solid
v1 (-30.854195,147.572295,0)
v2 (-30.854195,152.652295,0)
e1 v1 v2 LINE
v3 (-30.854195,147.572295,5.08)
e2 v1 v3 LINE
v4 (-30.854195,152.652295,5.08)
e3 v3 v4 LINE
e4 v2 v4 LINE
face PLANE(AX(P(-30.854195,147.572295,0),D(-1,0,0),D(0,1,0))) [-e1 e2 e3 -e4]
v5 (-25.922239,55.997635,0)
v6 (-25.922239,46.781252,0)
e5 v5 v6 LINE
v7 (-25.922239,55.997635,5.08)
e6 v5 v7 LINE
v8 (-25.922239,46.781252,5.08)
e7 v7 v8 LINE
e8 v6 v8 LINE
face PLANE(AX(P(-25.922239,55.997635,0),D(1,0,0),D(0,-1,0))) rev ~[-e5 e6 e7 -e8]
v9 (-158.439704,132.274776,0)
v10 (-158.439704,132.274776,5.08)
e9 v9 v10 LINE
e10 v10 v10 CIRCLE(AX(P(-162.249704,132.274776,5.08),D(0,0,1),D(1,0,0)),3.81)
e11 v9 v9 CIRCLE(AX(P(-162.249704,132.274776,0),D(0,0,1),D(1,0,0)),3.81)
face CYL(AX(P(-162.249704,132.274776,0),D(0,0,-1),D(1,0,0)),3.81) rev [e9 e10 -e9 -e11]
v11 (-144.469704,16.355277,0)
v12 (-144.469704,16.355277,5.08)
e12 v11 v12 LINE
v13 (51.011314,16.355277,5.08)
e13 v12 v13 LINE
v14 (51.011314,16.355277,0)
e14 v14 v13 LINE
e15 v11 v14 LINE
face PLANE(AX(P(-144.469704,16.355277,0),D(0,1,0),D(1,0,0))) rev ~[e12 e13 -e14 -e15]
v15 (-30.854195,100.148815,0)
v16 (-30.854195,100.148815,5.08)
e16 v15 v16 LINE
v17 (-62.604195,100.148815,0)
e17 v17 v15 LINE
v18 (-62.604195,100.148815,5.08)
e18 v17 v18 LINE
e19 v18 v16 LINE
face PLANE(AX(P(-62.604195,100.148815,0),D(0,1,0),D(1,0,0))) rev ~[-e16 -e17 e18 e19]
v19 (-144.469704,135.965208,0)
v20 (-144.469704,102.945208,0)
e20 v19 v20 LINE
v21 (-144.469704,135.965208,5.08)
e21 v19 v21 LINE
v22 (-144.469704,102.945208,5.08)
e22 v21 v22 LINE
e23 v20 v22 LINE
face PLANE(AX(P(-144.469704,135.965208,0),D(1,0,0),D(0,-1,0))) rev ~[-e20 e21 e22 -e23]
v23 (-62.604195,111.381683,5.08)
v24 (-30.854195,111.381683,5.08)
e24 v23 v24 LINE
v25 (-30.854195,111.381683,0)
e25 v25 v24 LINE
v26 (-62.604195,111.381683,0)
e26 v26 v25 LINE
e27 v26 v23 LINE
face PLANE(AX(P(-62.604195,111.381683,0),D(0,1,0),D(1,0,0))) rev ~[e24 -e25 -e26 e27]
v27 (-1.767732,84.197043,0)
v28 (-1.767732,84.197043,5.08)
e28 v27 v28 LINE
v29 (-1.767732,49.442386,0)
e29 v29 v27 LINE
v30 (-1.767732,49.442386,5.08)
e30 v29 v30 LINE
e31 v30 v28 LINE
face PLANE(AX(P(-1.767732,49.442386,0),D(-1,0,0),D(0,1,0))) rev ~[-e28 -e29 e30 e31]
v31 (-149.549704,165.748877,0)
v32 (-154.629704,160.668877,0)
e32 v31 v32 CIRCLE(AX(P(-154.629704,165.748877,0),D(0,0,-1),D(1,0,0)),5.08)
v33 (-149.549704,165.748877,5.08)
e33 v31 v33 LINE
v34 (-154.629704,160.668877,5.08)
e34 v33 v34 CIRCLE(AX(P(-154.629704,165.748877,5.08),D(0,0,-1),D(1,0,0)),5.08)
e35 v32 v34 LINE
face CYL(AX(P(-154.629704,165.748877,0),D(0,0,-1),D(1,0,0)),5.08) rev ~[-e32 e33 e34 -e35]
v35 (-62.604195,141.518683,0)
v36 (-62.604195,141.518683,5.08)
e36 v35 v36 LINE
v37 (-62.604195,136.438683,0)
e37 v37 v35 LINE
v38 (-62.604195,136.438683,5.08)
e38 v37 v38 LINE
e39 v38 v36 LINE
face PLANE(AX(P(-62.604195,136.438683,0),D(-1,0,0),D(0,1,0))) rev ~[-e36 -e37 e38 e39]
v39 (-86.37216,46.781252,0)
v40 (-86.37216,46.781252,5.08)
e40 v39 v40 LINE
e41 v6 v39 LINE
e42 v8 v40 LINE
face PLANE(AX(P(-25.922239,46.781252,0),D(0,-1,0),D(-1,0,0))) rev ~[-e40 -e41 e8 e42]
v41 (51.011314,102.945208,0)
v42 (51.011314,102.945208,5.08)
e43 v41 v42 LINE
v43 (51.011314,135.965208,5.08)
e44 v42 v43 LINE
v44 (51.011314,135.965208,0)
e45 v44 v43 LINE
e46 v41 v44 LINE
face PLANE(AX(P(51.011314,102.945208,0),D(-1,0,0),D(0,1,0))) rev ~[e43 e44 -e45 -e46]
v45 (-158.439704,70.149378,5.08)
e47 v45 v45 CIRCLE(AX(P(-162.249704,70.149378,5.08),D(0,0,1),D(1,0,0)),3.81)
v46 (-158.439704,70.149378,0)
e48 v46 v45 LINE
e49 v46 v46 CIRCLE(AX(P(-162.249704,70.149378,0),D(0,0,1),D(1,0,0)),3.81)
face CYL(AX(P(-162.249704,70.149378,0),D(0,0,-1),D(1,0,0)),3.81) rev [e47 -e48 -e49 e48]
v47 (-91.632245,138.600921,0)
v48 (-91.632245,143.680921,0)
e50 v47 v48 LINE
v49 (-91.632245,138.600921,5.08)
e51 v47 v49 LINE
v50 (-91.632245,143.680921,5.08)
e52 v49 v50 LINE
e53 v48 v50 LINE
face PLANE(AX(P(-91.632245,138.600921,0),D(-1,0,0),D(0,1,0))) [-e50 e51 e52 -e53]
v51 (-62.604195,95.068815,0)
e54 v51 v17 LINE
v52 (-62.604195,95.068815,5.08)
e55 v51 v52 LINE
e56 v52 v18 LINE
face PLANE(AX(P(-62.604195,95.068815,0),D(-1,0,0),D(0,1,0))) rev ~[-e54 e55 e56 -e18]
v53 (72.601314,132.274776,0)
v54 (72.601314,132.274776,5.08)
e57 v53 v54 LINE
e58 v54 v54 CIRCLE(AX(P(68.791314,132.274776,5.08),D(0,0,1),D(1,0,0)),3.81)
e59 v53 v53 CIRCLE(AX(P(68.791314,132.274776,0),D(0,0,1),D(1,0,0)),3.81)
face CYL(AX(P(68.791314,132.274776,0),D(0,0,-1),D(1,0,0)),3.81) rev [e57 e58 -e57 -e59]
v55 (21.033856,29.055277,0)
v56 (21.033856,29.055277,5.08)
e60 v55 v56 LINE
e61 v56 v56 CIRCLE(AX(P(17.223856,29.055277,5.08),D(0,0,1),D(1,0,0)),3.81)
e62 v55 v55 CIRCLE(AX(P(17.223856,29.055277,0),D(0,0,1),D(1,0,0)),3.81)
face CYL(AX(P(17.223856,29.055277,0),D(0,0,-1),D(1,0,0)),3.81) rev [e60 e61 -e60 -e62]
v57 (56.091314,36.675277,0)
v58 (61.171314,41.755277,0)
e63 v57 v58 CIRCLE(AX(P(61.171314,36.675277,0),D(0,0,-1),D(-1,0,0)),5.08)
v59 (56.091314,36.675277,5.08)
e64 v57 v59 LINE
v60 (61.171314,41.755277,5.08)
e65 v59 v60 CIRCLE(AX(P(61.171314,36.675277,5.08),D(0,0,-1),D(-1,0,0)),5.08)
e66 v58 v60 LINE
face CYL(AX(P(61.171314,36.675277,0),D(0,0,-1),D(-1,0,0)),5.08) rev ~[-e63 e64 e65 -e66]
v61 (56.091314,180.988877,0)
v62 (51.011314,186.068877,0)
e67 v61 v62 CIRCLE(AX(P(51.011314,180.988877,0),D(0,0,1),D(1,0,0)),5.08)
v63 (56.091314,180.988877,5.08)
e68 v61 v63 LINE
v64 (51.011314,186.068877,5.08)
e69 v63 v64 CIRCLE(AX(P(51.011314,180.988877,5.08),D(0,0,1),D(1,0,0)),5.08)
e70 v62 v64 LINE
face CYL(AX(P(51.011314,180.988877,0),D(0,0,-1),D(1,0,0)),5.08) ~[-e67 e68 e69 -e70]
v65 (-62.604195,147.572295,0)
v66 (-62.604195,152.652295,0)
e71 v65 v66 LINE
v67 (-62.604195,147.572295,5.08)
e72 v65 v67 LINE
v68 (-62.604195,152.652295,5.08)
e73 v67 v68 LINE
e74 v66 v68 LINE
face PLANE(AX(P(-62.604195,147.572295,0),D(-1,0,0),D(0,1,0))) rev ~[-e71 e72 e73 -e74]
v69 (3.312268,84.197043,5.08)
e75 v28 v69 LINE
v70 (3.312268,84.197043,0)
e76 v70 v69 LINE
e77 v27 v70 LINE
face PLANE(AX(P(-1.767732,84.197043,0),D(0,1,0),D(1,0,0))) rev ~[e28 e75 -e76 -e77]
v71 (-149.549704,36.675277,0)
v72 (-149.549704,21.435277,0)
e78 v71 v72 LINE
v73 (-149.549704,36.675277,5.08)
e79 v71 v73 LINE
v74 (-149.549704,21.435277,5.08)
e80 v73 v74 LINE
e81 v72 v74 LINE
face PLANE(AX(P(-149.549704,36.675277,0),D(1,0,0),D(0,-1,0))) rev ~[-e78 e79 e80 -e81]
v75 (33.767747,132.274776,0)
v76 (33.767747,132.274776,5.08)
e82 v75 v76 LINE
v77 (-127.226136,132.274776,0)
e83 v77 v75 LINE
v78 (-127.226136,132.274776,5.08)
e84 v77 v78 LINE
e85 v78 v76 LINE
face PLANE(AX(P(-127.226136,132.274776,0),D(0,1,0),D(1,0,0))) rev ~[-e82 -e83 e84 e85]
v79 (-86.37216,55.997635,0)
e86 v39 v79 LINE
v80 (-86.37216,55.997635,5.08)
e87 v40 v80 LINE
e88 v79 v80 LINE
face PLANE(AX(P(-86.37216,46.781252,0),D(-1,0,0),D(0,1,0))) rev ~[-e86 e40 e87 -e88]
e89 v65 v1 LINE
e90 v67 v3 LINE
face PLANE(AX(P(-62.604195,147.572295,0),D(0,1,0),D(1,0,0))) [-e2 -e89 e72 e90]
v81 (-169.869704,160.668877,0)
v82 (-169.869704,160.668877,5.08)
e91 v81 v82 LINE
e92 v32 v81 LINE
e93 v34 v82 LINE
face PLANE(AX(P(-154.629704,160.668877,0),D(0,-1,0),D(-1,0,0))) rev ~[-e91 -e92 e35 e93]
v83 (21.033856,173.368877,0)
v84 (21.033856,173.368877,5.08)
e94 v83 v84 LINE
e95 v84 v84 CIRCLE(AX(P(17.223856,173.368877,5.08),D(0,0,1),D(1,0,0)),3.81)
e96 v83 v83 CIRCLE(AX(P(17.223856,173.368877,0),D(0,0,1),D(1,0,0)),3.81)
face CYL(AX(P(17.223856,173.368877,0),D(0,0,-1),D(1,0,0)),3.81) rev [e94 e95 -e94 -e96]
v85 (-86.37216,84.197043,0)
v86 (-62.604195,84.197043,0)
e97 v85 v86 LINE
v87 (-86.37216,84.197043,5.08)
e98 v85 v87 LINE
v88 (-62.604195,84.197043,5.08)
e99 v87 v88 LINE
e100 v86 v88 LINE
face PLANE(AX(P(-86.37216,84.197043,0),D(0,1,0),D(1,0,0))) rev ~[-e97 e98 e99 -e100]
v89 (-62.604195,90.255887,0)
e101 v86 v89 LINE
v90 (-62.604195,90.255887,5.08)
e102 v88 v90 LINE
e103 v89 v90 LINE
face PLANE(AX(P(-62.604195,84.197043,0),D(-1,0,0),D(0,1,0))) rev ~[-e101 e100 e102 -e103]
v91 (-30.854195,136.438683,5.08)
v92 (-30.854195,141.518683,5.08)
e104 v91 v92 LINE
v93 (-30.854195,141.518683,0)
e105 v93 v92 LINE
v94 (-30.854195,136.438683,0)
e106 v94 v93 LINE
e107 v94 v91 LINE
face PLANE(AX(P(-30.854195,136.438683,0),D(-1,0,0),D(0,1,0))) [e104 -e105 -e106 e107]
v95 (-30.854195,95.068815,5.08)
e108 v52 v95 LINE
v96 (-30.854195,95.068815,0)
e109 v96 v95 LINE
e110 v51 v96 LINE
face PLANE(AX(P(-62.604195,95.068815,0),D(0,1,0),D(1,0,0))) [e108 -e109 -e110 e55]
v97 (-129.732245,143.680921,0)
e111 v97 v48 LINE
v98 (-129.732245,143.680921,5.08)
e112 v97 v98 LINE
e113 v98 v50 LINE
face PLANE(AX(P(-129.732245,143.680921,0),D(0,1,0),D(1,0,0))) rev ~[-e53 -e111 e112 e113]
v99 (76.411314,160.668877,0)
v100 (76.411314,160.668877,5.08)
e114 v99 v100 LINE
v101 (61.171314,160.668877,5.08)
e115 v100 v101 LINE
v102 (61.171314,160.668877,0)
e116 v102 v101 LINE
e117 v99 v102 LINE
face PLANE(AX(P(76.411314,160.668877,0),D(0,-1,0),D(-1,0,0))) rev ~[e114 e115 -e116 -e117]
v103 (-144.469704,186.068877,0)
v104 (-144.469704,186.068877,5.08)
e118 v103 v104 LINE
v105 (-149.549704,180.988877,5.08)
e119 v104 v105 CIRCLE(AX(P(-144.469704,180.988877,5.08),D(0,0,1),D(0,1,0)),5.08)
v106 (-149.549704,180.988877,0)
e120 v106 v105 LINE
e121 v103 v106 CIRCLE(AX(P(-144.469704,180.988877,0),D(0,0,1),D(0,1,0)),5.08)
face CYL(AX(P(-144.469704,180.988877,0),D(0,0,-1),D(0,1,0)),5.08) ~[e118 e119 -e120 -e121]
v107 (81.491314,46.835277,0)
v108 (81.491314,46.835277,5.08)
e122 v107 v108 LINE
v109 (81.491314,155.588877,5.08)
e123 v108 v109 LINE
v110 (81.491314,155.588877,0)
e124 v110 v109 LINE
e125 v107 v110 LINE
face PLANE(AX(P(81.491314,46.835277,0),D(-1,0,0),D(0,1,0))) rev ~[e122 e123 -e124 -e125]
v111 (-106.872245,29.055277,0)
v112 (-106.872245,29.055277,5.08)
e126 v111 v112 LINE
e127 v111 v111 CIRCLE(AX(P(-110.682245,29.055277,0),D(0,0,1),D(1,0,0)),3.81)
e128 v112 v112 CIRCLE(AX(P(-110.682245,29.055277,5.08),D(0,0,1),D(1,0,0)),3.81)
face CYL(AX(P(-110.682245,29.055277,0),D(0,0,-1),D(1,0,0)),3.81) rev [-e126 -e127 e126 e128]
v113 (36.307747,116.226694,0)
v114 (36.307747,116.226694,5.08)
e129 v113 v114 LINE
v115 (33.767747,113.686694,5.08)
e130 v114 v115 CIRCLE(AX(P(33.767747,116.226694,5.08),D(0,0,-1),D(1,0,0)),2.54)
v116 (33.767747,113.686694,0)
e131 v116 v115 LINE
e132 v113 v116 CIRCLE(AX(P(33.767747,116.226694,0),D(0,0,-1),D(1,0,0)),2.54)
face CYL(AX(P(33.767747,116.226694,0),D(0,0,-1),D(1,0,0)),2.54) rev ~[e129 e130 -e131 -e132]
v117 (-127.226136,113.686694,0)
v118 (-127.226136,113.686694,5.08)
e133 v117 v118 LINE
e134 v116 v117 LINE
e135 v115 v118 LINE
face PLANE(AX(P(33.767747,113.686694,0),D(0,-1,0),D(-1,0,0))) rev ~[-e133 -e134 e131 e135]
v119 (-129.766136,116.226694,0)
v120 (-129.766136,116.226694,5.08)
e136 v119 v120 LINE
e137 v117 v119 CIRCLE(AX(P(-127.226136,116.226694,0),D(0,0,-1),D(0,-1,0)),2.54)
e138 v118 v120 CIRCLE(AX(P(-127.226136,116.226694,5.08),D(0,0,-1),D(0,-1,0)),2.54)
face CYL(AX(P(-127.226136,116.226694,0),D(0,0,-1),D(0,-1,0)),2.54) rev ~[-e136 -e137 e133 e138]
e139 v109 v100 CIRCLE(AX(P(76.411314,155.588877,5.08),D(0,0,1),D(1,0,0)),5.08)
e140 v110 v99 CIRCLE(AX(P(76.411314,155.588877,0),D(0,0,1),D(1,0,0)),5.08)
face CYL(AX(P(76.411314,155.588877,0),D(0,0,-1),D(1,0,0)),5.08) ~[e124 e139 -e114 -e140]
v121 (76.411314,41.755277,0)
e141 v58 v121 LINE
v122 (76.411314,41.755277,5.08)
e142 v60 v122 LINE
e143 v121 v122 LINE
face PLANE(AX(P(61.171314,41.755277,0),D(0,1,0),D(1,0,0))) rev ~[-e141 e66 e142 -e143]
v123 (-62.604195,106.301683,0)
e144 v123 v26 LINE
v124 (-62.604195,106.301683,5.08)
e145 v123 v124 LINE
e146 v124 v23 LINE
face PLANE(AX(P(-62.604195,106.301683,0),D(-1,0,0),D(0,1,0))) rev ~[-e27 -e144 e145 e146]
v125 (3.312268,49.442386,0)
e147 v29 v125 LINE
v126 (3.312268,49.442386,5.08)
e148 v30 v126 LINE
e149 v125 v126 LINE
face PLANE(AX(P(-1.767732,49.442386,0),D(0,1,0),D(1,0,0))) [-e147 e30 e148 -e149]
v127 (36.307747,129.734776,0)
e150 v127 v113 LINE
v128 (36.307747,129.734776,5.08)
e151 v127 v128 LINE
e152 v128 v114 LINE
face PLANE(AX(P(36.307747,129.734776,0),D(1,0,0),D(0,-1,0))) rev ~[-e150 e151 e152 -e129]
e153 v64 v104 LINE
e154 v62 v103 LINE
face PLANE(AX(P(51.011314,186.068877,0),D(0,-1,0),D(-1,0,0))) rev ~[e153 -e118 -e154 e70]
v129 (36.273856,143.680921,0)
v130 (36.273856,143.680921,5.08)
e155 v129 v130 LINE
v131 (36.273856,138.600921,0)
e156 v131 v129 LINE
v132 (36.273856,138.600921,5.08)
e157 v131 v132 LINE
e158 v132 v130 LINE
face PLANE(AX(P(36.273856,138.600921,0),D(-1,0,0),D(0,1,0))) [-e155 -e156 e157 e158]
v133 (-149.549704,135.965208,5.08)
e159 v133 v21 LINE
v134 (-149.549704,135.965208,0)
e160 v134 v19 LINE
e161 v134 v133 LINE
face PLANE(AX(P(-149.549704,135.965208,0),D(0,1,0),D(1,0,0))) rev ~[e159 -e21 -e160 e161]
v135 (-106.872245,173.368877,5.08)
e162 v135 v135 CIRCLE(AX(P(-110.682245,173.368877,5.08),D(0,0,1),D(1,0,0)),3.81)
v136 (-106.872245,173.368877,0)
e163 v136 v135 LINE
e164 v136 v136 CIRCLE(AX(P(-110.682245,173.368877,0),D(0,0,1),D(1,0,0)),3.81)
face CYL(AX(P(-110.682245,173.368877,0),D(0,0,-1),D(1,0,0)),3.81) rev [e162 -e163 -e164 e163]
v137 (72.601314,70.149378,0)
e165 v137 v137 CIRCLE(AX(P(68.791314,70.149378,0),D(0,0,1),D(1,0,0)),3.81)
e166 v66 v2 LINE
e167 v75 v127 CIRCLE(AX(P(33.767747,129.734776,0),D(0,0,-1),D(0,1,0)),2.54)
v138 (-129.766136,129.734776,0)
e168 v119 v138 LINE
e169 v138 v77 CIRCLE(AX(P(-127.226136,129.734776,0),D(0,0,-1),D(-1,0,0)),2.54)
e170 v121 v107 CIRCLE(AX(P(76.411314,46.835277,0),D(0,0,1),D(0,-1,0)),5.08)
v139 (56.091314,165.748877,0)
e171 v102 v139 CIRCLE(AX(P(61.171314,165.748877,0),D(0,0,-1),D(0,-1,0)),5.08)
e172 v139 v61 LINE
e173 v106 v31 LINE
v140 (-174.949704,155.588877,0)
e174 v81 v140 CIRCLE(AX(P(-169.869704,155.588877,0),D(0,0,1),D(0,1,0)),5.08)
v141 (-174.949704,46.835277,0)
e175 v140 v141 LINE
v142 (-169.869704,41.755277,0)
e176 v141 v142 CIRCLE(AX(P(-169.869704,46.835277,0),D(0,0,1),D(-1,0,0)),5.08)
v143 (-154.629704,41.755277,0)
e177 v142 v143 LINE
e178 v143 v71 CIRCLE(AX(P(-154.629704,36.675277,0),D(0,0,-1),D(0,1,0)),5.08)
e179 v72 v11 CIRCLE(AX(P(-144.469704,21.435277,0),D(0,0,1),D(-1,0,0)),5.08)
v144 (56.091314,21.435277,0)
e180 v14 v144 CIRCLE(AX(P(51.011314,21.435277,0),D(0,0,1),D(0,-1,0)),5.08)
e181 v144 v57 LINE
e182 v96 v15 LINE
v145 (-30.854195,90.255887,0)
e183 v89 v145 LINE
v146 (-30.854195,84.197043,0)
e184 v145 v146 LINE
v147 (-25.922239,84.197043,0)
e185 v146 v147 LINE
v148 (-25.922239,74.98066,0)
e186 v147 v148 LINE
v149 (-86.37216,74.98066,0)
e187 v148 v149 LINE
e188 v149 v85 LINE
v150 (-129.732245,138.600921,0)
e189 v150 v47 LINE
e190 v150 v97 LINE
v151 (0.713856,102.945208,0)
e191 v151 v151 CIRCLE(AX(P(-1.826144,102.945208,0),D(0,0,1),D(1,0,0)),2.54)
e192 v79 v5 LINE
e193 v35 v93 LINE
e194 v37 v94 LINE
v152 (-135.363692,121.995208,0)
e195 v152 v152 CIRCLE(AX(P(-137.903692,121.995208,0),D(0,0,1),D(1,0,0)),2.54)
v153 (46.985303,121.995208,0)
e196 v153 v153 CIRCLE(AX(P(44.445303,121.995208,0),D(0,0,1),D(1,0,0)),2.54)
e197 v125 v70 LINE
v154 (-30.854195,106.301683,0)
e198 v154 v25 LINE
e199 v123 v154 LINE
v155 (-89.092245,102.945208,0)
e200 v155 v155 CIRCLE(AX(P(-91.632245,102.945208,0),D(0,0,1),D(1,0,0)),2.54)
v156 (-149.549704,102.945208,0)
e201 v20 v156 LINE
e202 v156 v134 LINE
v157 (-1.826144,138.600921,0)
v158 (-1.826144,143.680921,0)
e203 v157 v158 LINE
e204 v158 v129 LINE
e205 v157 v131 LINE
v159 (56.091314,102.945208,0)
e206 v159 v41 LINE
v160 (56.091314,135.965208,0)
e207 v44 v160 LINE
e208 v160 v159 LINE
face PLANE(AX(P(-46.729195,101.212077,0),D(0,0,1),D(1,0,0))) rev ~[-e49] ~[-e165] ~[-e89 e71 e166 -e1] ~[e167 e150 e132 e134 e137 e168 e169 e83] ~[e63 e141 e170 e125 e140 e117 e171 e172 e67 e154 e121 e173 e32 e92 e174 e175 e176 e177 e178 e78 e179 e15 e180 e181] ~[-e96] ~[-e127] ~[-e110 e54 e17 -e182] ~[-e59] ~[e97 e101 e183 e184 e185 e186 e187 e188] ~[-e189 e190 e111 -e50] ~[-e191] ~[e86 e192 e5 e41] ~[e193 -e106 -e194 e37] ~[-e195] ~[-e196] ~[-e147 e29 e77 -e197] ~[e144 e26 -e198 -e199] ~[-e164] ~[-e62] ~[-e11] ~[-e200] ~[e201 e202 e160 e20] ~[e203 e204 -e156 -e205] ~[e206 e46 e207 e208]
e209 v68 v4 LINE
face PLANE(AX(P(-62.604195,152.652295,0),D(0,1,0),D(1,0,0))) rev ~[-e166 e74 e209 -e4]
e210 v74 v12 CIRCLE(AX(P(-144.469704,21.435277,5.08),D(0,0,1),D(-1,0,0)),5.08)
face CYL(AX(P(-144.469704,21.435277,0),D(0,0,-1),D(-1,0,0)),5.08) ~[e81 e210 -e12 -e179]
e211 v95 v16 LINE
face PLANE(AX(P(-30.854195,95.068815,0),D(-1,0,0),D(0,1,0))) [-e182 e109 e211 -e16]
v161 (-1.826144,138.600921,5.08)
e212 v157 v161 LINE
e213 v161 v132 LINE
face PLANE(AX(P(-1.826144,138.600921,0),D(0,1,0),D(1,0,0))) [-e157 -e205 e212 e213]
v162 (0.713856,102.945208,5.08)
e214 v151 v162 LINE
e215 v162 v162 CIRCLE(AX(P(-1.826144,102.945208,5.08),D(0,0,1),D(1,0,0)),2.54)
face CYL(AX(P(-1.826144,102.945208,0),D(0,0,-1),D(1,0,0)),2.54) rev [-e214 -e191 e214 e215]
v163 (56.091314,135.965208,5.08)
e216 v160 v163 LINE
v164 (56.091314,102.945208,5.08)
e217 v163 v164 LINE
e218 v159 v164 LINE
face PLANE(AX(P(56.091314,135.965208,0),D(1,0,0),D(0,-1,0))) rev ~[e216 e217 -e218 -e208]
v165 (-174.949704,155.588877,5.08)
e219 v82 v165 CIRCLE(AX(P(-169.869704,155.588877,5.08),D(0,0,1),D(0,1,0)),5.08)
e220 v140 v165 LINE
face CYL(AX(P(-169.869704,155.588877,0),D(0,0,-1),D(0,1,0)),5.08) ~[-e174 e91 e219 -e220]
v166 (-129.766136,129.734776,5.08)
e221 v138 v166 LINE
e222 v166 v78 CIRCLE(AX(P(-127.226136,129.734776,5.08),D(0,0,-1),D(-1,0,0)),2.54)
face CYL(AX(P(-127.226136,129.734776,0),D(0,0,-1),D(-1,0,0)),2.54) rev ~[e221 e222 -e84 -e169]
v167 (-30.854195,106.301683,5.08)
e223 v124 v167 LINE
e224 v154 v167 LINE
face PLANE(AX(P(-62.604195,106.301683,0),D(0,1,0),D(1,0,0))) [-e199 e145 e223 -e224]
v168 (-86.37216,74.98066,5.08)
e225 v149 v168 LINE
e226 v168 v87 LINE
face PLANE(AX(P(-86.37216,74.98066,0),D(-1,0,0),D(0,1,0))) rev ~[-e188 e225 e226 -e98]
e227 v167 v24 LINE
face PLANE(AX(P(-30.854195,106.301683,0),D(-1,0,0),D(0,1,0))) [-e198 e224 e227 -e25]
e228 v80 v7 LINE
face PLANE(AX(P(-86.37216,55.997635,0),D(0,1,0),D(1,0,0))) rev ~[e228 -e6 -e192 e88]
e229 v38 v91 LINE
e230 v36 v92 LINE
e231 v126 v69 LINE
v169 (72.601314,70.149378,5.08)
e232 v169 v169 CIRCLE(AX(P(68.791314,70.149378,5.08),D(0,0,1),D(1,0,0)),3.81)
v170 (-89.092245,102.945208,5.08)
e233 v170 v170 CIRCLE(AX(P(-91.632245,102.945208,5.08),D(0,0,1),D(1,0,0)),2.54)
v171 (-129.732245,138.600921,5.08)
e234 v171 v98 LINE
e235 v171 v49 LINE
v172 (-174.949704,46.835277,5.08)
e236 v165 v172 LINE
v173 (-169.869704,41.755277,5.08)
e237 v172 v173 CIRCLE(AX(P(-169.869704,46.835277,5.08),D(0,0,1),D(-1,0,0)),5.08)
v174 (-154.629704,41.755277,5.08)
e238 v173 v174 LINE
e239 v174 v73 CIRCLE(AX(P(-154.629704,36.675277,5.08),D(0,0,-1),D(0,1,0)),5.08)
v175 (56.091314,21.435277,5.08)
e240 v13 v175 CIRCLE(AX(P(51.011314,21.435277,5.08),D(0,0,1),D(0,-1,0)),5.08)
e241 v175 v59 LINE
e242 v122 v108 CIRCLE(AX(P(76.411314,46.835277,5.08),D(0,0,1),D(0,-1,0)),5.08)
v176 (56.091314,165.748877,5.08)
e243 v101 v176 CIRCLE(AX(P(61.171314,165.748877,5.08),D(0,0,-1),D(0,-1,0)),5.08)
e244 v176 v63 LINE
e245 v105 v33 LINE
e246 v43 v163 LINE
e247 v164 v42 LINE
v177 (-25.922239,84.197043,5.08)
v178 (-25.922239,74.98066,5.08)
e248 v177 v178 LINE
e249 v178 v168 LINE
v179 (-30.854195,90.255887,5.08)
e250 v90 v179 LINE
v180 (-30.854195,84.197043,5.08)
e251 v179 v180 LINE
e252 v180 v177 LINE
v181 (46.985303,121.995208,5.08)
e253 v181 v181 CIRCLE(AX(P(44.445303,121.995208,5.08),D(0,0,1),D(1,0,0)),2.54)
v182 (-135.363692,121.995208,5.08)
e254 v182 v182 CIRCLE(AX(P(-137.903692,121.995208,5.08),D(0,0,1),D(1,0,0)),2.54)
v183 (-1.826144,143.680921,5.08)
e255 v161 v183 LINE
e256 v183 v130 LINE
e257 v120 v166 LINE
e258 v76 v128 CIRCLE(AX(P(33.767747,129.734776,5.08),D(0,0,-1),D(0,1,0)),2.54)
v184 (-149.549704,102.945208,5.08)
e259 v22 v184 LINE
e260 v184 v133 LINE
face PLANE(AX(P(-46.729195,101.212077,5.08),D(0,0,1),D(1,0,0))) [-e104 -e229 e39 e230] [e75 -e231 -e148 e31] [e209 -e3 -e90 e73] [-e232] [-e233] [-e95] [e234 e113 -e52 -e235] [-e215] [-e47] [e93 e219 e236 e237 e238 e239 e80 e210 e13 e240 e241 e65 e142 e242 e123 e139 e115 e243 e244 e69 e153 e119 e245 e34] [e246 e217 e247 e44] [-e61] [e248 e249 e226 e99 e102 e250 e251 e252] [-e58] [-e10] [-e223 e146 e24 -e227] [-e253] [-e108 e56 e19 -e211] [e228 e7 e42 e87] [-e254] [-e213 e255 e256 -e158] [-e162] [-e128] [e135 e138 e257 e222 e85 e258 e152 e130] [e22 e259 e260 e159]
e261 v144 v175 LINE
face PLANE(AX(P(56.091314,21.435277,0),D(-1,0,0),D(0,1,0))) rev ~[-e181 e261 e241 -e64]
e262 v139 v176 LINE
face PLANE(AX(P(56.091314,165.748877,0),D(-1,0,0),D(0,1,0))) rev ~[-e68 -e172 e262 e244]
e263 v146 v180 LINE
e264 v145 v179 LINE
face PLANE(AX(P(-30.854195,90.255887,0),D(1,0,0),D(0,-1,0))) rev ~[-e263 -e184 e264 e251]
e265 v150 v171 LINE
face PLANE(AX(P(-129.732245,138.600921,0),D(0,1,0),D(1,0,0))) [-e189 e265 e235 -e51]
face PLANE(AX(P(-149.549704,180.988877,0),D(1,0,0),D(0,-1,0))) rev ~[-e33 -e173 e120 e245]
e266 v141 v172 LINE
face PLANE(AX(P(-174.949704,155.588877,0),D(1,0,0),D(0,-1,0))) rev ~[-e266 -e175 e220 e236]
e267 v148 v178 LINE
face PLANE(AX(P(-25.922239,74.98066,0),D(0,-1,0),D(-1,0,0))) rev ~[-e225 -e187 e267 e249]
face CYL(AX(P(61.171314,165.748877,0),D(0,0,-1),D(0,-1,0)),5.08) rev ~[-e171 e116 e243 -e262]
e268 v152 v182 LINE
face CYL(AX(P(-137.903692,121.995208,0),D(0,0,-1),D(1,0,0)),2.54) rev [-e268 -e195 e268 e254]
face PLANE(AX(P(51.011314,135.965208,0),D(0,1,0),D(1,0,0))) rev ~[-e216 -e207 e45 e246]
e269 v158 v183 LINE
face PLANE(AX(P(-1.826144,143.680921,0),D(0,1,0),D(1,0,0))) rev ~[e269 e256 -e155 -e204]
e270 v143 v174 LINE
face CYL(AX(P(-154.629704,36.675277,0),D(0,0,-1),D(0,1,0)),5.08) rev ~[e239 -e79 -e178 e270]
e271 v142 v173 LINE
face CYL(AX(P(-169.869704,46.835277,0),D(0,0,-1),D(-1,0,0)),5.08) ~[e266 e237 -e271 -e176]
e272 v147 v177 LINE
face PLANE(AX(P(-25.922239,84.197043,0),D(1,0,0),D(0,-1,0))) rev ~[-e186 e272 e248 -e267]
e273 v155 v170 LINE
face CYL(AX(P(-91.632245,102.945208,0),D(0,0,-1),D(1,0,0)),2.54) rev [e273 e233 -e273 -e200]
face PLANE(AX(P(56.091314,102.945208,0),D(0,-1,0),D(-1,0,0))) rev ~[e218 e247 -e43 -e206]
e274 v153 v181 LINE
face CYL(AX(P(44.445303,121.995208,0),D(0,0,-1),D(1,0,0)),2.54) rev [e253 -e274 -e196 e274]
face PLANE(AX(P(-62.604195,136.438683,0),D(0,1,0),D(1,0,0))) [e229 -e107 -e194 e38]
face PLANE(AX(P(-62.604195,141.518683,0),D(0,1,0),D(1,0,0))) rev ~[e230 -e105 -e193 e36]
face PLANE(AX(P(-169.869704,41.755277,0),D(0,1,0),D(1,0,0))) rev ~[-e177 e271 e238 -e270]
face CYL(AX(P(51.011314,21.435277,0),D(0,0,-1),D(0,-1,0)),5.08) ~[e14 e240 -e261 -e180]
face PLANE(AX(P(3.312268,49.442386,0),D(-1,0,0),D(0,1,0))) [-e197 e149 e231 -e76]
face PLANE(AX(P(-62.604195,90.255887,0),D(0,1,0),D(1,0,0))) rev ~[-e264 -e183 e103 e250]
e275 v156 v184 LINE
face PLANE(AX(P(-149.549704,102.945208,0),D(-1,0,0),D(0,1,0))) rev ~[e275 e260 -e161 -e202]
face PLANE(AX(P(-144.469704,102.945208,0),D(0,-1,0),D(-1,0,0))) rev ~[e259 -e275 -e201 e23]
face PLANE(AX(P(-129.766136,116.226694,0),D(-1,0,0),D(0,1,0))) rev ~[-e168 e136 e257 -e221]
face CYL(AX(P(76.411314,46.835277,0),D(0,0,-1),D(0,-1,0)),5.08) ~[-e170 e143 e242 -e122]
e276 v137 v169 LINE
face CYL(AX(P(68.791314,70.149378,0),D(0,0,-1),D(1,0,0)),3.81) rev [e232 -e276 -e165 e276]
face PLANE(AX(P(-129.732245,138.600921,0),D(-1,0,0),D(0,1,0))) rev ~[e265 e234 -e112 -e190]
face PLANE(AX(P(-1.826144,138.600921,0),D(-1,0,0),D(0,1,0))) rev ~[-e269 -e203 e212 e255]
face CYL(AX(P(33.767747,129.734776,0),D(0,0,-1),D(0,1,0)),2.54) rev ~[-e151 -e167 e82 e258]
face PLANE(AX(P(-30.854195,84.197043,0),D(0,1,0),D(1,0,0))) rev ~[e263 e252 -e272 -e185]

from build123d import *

# Parameters (mm, degrees)
SKETCH1_R           = 3.81
SKETCH1_W           = 5.08
SKETCH1_H           = 34.754656801
SKETCH1_W_2         = 31.75
SKETCH1_H_2         = 5.08
SKETCH1_R_2         = 2.54
SKETCH1_W_3         = 38.1
BOSS_EXTRUDE1_DEPTH = 5.08


with BuildPart() as part:
    # Sketch1 → Boss-Extrude1 (new body)
    with BuildSketch(Plane.XY):
        with BuildLine():
            ThreePointArc((51.011314264, 16.355277108), (54.603416713, 17.84317466), (56.091314264, 21.435277108))
            Line((56.091314264, 21.435277108), (56.091314264, 36.675277108))
            ThreePointArc((56.091314264, 36.675277108), (57.579211816, 40.267379557), (61.171314264, 41.755277108))
            Line((61.171314264, 41.755277108), (76.411314264, 41.755277108))
            ThreePointArc((76.411314264, 41.755277108), (80.003416713, 43.24317466), (81.491314264, 46.835277108))
            Line((81.491314264, 46.835277108), (81.491314264, 155.588877174))
            ThreePointArc((81.491314264, 155.588877174), (80.003416713, 159.180979622), (76.411314264, 160.668877174))
            Line((76.411314264, 160.668877174), (61.171314264, 160.668877174))
            ThreePointArc((61.171314264, 160.668877174), (57.579211816, 162.156774726), (56.091314264, 165.748877174))
            Line((56.091314264, 165.748877174), (56.091314264, 180.988877174))
            ThreePointArc((56.091314264, 180.988877174), (54.603416713, 184.580979622), (51.011314264, 186.068877174))
            Line((51.011314264, 186.068877174), (-144.469703574, 186.068877174))
            ThreePointArc((-144.469703574, 186.068877174), (-148.061806022, 184.580979622), (-149.549703574, 180.988877174))
            Line((-149.549703574, 180.988877174), (-149.549703574, 165.748877174))
            ThreePointArc((-149.549703574, 165.748877174), (-151.037601126, 162.156774726), (-154.629703574, 160.668877174))
            Line((-154.629703574, 160.668877174), (-169.869703574, 160.668877174))
            ThreePointArc((-169.869703574, 160.668877174), (-173.461806022, 159.180979622), (-174.949703574, 155.588877174))
            Line((-174.949703574, 155.588877174), (-174.949703574, 46.835277108))
            ThreePointArc((-174.949703574, 46.835277108), (-173.461806022, 43.24317466), (-169.869703574, 41.755277108))
            Line((-169.869703574, 41.755277108), (-154.629703574, 41.755277108))
            ThreePointArc((-154.629703574, 41.755277108), (-151.037601126, 40.267379557), (-149.549703574, 36.675277108))
            Line((-149.549703574, 36.675277108), (-149.549703574, 21.435277108))
            ThreePointArc((-149.549703574, 21.435277108), (-148.061806022, 17.84317466), (-144.469703574, 16.355277108))
            Line((-144.469703574, 16.355277108), (51.011314264, 16.355277108))
        make_face()
        with Locations((-110.682245407, 29.055277108)):
            Circle(SKETCH1_R, mode=Mode.SUBTRACT)
        Polygon((-25.922239135, 55.997635261), (-25.922239135, 49.700309173), (-25.922239135, 46.781251801), (-86.372159657, 46.781251801), (-86.372159657, 55.997635261), align=None, mode=Mode.SUBTRACT)
        with Locations((-162.249703574, 70.149378101)):
            Circle(SKETCH1_R, mode=Mode.SUBTRACT)
        Polygon((-25.922239135, 84.197043075), (-25.922239135, 77.899716987), (-25.922239135, 74.980659615), (-86.372159657, 74.980659615), (-86.372159657, 84.197043075), (-62.604194655, 84.197043075), (-62.604194655, 90.255887093), (-30.854194655, 90.255887093), (-30.854194655, 84.197043075), align=None, mode=Mode.SUBTRACT)
        with Locations((17.223856098, 29.055277108)):
            Circle(SKETCH1_R, mode=Mode.SUBTRACT)
        with Locations((0.772267685, 66.819714675)):
            Rectangle(SKETCH1_W, SKETCH1_H, mode=Mode.SUBTRACT)
        with Locations((-46.729194655, 97.608815198)):
            Rectangle(SKETCH1_W_2, SKETCH1_H_2, mode=Mode.SUBTRACT)
        with Locations((68.791314264, 70.149378101)):
            Circle(SKETCH1_R, mode=Mode.SUBTRACT)
        Polygon((-149.549703574, 135.965208253), (-144.469703574, 135.965208253), (-144.469703574, 127.195635913), (-144.469703574, 102.945208253), (-149.549703574, 102.945208253), align=None, mode=Mode.SUBTRACT)
        with Locations((-137.903692136, 121.995208253)):
            Circle(SKETCH1_R_2, mode=Mode.SUBTRACT)
        with Locations((-162.249703574, 132.274776181)):
            Circle(SKETCH1_R, mode=Mode.SUBTRACT)
        with Locations((-91.632245407, 102.945208253)):
            Circle(SKETCH1_R_2, mode=Mode.SUBTRACT)
        with Locations((-110.682245407, 141.140921067)):
            Rectangle(SKETCH1_W_3, SKETCH1_H_2, mode=Mode.SUBTRACT)
        with Locations((-110.682245407, 173.368877174)):
            Circle(SKETCH1_R, mode=Mode.SUBTRACT)
        with Locations((-46.729194655, 108.841683137)):
            Rectangle(SKETCH1_W_2, SKETCH1_H_2, mode=Mode.SUBTRACT)
        with Locations((-1.826143902, 102.945208253)):
            Circle(SKETCH1_R_2, mode=Mode.SUBTRACT)
        with BuildLine():
            ThreePointArc((33.767746549, 132.274776181), (35.563797773, 131.530827406), (36.307746549, 129.734776181))
            Line((36.307746549, 129.734776181), (36.307746549, 127.195635913))
            Line((36.307746549, 127.195635913), (36.307746549, 116.226694176))
            ThreePointArc((36.307746549, 116.226694176), (35.563797773, 114.430642952), (33.767746549, 113.686694176))
            Line((33.767746549, 113.686694176), (-127.226135859, 113.686694176))
            ThreePointArc((-127.226135859, 113.686694176), (-129.022187083, 114.430642952), (-129.766135859, 116.226694176))
            Line((-129.766135859, 116.226694176), (-129.766135859, 127.195635913))
            Line((-129.766135859, 127.195635913), (-129.766135859, 129.734776181))
            ThreePointArc((-129.766135859, 129.734776181), (-129.022187083, 131.530827406), (-127.226135859, 132.274776181))
            Line((-127.226135859, 132.274776181), (33.767746549, 132.274776181))
        make_face(mode=Mode.SUBTRACT)
        with Locations((-46.729194655, 138.978682913)):
            Rectangle(SKETCH1_W_2, SKETCH1_H_2, mode=Mode.SUBTRACT)
        with Locations((17.223856098, 141.140921067)):
            Rectangle(SKETCH1_W_3, SKETCH1_H_2, mode=Mode.SUBTRACT)
        with Locations((44.445302826, 121.995208253)):
            Circle(SKETCH1_R_2, mode=Mode.SUBTRACT)
        Polygon((51.011314264, 127.195635913), (51.011314264, 135.965208253), (56.091314264, 135.965208253), (56.091314264, 102.945208253), (51.011314264, 102.945208253), align=None, mode=Mode.SUBTRACT)
        with Locations((68.791314264, 132.274776181)):
            Circle(SKETCH1_R, mode=Mode.SUBTRACT)
        with Locations((-46.729194655, 150.112295085)):
            Rectangle(SKETCH1_W_2, SKETCH1_H_2, mode=Mode.SUBTRACT)
        with Locations((17.223856098, 173.368877174)):
            Circle(SKETCH1_R, mode=Mode.SUBTRACT)
    extrude(amount=BOSS_EXTRUDE1_DEPTH)


solid = part.part
